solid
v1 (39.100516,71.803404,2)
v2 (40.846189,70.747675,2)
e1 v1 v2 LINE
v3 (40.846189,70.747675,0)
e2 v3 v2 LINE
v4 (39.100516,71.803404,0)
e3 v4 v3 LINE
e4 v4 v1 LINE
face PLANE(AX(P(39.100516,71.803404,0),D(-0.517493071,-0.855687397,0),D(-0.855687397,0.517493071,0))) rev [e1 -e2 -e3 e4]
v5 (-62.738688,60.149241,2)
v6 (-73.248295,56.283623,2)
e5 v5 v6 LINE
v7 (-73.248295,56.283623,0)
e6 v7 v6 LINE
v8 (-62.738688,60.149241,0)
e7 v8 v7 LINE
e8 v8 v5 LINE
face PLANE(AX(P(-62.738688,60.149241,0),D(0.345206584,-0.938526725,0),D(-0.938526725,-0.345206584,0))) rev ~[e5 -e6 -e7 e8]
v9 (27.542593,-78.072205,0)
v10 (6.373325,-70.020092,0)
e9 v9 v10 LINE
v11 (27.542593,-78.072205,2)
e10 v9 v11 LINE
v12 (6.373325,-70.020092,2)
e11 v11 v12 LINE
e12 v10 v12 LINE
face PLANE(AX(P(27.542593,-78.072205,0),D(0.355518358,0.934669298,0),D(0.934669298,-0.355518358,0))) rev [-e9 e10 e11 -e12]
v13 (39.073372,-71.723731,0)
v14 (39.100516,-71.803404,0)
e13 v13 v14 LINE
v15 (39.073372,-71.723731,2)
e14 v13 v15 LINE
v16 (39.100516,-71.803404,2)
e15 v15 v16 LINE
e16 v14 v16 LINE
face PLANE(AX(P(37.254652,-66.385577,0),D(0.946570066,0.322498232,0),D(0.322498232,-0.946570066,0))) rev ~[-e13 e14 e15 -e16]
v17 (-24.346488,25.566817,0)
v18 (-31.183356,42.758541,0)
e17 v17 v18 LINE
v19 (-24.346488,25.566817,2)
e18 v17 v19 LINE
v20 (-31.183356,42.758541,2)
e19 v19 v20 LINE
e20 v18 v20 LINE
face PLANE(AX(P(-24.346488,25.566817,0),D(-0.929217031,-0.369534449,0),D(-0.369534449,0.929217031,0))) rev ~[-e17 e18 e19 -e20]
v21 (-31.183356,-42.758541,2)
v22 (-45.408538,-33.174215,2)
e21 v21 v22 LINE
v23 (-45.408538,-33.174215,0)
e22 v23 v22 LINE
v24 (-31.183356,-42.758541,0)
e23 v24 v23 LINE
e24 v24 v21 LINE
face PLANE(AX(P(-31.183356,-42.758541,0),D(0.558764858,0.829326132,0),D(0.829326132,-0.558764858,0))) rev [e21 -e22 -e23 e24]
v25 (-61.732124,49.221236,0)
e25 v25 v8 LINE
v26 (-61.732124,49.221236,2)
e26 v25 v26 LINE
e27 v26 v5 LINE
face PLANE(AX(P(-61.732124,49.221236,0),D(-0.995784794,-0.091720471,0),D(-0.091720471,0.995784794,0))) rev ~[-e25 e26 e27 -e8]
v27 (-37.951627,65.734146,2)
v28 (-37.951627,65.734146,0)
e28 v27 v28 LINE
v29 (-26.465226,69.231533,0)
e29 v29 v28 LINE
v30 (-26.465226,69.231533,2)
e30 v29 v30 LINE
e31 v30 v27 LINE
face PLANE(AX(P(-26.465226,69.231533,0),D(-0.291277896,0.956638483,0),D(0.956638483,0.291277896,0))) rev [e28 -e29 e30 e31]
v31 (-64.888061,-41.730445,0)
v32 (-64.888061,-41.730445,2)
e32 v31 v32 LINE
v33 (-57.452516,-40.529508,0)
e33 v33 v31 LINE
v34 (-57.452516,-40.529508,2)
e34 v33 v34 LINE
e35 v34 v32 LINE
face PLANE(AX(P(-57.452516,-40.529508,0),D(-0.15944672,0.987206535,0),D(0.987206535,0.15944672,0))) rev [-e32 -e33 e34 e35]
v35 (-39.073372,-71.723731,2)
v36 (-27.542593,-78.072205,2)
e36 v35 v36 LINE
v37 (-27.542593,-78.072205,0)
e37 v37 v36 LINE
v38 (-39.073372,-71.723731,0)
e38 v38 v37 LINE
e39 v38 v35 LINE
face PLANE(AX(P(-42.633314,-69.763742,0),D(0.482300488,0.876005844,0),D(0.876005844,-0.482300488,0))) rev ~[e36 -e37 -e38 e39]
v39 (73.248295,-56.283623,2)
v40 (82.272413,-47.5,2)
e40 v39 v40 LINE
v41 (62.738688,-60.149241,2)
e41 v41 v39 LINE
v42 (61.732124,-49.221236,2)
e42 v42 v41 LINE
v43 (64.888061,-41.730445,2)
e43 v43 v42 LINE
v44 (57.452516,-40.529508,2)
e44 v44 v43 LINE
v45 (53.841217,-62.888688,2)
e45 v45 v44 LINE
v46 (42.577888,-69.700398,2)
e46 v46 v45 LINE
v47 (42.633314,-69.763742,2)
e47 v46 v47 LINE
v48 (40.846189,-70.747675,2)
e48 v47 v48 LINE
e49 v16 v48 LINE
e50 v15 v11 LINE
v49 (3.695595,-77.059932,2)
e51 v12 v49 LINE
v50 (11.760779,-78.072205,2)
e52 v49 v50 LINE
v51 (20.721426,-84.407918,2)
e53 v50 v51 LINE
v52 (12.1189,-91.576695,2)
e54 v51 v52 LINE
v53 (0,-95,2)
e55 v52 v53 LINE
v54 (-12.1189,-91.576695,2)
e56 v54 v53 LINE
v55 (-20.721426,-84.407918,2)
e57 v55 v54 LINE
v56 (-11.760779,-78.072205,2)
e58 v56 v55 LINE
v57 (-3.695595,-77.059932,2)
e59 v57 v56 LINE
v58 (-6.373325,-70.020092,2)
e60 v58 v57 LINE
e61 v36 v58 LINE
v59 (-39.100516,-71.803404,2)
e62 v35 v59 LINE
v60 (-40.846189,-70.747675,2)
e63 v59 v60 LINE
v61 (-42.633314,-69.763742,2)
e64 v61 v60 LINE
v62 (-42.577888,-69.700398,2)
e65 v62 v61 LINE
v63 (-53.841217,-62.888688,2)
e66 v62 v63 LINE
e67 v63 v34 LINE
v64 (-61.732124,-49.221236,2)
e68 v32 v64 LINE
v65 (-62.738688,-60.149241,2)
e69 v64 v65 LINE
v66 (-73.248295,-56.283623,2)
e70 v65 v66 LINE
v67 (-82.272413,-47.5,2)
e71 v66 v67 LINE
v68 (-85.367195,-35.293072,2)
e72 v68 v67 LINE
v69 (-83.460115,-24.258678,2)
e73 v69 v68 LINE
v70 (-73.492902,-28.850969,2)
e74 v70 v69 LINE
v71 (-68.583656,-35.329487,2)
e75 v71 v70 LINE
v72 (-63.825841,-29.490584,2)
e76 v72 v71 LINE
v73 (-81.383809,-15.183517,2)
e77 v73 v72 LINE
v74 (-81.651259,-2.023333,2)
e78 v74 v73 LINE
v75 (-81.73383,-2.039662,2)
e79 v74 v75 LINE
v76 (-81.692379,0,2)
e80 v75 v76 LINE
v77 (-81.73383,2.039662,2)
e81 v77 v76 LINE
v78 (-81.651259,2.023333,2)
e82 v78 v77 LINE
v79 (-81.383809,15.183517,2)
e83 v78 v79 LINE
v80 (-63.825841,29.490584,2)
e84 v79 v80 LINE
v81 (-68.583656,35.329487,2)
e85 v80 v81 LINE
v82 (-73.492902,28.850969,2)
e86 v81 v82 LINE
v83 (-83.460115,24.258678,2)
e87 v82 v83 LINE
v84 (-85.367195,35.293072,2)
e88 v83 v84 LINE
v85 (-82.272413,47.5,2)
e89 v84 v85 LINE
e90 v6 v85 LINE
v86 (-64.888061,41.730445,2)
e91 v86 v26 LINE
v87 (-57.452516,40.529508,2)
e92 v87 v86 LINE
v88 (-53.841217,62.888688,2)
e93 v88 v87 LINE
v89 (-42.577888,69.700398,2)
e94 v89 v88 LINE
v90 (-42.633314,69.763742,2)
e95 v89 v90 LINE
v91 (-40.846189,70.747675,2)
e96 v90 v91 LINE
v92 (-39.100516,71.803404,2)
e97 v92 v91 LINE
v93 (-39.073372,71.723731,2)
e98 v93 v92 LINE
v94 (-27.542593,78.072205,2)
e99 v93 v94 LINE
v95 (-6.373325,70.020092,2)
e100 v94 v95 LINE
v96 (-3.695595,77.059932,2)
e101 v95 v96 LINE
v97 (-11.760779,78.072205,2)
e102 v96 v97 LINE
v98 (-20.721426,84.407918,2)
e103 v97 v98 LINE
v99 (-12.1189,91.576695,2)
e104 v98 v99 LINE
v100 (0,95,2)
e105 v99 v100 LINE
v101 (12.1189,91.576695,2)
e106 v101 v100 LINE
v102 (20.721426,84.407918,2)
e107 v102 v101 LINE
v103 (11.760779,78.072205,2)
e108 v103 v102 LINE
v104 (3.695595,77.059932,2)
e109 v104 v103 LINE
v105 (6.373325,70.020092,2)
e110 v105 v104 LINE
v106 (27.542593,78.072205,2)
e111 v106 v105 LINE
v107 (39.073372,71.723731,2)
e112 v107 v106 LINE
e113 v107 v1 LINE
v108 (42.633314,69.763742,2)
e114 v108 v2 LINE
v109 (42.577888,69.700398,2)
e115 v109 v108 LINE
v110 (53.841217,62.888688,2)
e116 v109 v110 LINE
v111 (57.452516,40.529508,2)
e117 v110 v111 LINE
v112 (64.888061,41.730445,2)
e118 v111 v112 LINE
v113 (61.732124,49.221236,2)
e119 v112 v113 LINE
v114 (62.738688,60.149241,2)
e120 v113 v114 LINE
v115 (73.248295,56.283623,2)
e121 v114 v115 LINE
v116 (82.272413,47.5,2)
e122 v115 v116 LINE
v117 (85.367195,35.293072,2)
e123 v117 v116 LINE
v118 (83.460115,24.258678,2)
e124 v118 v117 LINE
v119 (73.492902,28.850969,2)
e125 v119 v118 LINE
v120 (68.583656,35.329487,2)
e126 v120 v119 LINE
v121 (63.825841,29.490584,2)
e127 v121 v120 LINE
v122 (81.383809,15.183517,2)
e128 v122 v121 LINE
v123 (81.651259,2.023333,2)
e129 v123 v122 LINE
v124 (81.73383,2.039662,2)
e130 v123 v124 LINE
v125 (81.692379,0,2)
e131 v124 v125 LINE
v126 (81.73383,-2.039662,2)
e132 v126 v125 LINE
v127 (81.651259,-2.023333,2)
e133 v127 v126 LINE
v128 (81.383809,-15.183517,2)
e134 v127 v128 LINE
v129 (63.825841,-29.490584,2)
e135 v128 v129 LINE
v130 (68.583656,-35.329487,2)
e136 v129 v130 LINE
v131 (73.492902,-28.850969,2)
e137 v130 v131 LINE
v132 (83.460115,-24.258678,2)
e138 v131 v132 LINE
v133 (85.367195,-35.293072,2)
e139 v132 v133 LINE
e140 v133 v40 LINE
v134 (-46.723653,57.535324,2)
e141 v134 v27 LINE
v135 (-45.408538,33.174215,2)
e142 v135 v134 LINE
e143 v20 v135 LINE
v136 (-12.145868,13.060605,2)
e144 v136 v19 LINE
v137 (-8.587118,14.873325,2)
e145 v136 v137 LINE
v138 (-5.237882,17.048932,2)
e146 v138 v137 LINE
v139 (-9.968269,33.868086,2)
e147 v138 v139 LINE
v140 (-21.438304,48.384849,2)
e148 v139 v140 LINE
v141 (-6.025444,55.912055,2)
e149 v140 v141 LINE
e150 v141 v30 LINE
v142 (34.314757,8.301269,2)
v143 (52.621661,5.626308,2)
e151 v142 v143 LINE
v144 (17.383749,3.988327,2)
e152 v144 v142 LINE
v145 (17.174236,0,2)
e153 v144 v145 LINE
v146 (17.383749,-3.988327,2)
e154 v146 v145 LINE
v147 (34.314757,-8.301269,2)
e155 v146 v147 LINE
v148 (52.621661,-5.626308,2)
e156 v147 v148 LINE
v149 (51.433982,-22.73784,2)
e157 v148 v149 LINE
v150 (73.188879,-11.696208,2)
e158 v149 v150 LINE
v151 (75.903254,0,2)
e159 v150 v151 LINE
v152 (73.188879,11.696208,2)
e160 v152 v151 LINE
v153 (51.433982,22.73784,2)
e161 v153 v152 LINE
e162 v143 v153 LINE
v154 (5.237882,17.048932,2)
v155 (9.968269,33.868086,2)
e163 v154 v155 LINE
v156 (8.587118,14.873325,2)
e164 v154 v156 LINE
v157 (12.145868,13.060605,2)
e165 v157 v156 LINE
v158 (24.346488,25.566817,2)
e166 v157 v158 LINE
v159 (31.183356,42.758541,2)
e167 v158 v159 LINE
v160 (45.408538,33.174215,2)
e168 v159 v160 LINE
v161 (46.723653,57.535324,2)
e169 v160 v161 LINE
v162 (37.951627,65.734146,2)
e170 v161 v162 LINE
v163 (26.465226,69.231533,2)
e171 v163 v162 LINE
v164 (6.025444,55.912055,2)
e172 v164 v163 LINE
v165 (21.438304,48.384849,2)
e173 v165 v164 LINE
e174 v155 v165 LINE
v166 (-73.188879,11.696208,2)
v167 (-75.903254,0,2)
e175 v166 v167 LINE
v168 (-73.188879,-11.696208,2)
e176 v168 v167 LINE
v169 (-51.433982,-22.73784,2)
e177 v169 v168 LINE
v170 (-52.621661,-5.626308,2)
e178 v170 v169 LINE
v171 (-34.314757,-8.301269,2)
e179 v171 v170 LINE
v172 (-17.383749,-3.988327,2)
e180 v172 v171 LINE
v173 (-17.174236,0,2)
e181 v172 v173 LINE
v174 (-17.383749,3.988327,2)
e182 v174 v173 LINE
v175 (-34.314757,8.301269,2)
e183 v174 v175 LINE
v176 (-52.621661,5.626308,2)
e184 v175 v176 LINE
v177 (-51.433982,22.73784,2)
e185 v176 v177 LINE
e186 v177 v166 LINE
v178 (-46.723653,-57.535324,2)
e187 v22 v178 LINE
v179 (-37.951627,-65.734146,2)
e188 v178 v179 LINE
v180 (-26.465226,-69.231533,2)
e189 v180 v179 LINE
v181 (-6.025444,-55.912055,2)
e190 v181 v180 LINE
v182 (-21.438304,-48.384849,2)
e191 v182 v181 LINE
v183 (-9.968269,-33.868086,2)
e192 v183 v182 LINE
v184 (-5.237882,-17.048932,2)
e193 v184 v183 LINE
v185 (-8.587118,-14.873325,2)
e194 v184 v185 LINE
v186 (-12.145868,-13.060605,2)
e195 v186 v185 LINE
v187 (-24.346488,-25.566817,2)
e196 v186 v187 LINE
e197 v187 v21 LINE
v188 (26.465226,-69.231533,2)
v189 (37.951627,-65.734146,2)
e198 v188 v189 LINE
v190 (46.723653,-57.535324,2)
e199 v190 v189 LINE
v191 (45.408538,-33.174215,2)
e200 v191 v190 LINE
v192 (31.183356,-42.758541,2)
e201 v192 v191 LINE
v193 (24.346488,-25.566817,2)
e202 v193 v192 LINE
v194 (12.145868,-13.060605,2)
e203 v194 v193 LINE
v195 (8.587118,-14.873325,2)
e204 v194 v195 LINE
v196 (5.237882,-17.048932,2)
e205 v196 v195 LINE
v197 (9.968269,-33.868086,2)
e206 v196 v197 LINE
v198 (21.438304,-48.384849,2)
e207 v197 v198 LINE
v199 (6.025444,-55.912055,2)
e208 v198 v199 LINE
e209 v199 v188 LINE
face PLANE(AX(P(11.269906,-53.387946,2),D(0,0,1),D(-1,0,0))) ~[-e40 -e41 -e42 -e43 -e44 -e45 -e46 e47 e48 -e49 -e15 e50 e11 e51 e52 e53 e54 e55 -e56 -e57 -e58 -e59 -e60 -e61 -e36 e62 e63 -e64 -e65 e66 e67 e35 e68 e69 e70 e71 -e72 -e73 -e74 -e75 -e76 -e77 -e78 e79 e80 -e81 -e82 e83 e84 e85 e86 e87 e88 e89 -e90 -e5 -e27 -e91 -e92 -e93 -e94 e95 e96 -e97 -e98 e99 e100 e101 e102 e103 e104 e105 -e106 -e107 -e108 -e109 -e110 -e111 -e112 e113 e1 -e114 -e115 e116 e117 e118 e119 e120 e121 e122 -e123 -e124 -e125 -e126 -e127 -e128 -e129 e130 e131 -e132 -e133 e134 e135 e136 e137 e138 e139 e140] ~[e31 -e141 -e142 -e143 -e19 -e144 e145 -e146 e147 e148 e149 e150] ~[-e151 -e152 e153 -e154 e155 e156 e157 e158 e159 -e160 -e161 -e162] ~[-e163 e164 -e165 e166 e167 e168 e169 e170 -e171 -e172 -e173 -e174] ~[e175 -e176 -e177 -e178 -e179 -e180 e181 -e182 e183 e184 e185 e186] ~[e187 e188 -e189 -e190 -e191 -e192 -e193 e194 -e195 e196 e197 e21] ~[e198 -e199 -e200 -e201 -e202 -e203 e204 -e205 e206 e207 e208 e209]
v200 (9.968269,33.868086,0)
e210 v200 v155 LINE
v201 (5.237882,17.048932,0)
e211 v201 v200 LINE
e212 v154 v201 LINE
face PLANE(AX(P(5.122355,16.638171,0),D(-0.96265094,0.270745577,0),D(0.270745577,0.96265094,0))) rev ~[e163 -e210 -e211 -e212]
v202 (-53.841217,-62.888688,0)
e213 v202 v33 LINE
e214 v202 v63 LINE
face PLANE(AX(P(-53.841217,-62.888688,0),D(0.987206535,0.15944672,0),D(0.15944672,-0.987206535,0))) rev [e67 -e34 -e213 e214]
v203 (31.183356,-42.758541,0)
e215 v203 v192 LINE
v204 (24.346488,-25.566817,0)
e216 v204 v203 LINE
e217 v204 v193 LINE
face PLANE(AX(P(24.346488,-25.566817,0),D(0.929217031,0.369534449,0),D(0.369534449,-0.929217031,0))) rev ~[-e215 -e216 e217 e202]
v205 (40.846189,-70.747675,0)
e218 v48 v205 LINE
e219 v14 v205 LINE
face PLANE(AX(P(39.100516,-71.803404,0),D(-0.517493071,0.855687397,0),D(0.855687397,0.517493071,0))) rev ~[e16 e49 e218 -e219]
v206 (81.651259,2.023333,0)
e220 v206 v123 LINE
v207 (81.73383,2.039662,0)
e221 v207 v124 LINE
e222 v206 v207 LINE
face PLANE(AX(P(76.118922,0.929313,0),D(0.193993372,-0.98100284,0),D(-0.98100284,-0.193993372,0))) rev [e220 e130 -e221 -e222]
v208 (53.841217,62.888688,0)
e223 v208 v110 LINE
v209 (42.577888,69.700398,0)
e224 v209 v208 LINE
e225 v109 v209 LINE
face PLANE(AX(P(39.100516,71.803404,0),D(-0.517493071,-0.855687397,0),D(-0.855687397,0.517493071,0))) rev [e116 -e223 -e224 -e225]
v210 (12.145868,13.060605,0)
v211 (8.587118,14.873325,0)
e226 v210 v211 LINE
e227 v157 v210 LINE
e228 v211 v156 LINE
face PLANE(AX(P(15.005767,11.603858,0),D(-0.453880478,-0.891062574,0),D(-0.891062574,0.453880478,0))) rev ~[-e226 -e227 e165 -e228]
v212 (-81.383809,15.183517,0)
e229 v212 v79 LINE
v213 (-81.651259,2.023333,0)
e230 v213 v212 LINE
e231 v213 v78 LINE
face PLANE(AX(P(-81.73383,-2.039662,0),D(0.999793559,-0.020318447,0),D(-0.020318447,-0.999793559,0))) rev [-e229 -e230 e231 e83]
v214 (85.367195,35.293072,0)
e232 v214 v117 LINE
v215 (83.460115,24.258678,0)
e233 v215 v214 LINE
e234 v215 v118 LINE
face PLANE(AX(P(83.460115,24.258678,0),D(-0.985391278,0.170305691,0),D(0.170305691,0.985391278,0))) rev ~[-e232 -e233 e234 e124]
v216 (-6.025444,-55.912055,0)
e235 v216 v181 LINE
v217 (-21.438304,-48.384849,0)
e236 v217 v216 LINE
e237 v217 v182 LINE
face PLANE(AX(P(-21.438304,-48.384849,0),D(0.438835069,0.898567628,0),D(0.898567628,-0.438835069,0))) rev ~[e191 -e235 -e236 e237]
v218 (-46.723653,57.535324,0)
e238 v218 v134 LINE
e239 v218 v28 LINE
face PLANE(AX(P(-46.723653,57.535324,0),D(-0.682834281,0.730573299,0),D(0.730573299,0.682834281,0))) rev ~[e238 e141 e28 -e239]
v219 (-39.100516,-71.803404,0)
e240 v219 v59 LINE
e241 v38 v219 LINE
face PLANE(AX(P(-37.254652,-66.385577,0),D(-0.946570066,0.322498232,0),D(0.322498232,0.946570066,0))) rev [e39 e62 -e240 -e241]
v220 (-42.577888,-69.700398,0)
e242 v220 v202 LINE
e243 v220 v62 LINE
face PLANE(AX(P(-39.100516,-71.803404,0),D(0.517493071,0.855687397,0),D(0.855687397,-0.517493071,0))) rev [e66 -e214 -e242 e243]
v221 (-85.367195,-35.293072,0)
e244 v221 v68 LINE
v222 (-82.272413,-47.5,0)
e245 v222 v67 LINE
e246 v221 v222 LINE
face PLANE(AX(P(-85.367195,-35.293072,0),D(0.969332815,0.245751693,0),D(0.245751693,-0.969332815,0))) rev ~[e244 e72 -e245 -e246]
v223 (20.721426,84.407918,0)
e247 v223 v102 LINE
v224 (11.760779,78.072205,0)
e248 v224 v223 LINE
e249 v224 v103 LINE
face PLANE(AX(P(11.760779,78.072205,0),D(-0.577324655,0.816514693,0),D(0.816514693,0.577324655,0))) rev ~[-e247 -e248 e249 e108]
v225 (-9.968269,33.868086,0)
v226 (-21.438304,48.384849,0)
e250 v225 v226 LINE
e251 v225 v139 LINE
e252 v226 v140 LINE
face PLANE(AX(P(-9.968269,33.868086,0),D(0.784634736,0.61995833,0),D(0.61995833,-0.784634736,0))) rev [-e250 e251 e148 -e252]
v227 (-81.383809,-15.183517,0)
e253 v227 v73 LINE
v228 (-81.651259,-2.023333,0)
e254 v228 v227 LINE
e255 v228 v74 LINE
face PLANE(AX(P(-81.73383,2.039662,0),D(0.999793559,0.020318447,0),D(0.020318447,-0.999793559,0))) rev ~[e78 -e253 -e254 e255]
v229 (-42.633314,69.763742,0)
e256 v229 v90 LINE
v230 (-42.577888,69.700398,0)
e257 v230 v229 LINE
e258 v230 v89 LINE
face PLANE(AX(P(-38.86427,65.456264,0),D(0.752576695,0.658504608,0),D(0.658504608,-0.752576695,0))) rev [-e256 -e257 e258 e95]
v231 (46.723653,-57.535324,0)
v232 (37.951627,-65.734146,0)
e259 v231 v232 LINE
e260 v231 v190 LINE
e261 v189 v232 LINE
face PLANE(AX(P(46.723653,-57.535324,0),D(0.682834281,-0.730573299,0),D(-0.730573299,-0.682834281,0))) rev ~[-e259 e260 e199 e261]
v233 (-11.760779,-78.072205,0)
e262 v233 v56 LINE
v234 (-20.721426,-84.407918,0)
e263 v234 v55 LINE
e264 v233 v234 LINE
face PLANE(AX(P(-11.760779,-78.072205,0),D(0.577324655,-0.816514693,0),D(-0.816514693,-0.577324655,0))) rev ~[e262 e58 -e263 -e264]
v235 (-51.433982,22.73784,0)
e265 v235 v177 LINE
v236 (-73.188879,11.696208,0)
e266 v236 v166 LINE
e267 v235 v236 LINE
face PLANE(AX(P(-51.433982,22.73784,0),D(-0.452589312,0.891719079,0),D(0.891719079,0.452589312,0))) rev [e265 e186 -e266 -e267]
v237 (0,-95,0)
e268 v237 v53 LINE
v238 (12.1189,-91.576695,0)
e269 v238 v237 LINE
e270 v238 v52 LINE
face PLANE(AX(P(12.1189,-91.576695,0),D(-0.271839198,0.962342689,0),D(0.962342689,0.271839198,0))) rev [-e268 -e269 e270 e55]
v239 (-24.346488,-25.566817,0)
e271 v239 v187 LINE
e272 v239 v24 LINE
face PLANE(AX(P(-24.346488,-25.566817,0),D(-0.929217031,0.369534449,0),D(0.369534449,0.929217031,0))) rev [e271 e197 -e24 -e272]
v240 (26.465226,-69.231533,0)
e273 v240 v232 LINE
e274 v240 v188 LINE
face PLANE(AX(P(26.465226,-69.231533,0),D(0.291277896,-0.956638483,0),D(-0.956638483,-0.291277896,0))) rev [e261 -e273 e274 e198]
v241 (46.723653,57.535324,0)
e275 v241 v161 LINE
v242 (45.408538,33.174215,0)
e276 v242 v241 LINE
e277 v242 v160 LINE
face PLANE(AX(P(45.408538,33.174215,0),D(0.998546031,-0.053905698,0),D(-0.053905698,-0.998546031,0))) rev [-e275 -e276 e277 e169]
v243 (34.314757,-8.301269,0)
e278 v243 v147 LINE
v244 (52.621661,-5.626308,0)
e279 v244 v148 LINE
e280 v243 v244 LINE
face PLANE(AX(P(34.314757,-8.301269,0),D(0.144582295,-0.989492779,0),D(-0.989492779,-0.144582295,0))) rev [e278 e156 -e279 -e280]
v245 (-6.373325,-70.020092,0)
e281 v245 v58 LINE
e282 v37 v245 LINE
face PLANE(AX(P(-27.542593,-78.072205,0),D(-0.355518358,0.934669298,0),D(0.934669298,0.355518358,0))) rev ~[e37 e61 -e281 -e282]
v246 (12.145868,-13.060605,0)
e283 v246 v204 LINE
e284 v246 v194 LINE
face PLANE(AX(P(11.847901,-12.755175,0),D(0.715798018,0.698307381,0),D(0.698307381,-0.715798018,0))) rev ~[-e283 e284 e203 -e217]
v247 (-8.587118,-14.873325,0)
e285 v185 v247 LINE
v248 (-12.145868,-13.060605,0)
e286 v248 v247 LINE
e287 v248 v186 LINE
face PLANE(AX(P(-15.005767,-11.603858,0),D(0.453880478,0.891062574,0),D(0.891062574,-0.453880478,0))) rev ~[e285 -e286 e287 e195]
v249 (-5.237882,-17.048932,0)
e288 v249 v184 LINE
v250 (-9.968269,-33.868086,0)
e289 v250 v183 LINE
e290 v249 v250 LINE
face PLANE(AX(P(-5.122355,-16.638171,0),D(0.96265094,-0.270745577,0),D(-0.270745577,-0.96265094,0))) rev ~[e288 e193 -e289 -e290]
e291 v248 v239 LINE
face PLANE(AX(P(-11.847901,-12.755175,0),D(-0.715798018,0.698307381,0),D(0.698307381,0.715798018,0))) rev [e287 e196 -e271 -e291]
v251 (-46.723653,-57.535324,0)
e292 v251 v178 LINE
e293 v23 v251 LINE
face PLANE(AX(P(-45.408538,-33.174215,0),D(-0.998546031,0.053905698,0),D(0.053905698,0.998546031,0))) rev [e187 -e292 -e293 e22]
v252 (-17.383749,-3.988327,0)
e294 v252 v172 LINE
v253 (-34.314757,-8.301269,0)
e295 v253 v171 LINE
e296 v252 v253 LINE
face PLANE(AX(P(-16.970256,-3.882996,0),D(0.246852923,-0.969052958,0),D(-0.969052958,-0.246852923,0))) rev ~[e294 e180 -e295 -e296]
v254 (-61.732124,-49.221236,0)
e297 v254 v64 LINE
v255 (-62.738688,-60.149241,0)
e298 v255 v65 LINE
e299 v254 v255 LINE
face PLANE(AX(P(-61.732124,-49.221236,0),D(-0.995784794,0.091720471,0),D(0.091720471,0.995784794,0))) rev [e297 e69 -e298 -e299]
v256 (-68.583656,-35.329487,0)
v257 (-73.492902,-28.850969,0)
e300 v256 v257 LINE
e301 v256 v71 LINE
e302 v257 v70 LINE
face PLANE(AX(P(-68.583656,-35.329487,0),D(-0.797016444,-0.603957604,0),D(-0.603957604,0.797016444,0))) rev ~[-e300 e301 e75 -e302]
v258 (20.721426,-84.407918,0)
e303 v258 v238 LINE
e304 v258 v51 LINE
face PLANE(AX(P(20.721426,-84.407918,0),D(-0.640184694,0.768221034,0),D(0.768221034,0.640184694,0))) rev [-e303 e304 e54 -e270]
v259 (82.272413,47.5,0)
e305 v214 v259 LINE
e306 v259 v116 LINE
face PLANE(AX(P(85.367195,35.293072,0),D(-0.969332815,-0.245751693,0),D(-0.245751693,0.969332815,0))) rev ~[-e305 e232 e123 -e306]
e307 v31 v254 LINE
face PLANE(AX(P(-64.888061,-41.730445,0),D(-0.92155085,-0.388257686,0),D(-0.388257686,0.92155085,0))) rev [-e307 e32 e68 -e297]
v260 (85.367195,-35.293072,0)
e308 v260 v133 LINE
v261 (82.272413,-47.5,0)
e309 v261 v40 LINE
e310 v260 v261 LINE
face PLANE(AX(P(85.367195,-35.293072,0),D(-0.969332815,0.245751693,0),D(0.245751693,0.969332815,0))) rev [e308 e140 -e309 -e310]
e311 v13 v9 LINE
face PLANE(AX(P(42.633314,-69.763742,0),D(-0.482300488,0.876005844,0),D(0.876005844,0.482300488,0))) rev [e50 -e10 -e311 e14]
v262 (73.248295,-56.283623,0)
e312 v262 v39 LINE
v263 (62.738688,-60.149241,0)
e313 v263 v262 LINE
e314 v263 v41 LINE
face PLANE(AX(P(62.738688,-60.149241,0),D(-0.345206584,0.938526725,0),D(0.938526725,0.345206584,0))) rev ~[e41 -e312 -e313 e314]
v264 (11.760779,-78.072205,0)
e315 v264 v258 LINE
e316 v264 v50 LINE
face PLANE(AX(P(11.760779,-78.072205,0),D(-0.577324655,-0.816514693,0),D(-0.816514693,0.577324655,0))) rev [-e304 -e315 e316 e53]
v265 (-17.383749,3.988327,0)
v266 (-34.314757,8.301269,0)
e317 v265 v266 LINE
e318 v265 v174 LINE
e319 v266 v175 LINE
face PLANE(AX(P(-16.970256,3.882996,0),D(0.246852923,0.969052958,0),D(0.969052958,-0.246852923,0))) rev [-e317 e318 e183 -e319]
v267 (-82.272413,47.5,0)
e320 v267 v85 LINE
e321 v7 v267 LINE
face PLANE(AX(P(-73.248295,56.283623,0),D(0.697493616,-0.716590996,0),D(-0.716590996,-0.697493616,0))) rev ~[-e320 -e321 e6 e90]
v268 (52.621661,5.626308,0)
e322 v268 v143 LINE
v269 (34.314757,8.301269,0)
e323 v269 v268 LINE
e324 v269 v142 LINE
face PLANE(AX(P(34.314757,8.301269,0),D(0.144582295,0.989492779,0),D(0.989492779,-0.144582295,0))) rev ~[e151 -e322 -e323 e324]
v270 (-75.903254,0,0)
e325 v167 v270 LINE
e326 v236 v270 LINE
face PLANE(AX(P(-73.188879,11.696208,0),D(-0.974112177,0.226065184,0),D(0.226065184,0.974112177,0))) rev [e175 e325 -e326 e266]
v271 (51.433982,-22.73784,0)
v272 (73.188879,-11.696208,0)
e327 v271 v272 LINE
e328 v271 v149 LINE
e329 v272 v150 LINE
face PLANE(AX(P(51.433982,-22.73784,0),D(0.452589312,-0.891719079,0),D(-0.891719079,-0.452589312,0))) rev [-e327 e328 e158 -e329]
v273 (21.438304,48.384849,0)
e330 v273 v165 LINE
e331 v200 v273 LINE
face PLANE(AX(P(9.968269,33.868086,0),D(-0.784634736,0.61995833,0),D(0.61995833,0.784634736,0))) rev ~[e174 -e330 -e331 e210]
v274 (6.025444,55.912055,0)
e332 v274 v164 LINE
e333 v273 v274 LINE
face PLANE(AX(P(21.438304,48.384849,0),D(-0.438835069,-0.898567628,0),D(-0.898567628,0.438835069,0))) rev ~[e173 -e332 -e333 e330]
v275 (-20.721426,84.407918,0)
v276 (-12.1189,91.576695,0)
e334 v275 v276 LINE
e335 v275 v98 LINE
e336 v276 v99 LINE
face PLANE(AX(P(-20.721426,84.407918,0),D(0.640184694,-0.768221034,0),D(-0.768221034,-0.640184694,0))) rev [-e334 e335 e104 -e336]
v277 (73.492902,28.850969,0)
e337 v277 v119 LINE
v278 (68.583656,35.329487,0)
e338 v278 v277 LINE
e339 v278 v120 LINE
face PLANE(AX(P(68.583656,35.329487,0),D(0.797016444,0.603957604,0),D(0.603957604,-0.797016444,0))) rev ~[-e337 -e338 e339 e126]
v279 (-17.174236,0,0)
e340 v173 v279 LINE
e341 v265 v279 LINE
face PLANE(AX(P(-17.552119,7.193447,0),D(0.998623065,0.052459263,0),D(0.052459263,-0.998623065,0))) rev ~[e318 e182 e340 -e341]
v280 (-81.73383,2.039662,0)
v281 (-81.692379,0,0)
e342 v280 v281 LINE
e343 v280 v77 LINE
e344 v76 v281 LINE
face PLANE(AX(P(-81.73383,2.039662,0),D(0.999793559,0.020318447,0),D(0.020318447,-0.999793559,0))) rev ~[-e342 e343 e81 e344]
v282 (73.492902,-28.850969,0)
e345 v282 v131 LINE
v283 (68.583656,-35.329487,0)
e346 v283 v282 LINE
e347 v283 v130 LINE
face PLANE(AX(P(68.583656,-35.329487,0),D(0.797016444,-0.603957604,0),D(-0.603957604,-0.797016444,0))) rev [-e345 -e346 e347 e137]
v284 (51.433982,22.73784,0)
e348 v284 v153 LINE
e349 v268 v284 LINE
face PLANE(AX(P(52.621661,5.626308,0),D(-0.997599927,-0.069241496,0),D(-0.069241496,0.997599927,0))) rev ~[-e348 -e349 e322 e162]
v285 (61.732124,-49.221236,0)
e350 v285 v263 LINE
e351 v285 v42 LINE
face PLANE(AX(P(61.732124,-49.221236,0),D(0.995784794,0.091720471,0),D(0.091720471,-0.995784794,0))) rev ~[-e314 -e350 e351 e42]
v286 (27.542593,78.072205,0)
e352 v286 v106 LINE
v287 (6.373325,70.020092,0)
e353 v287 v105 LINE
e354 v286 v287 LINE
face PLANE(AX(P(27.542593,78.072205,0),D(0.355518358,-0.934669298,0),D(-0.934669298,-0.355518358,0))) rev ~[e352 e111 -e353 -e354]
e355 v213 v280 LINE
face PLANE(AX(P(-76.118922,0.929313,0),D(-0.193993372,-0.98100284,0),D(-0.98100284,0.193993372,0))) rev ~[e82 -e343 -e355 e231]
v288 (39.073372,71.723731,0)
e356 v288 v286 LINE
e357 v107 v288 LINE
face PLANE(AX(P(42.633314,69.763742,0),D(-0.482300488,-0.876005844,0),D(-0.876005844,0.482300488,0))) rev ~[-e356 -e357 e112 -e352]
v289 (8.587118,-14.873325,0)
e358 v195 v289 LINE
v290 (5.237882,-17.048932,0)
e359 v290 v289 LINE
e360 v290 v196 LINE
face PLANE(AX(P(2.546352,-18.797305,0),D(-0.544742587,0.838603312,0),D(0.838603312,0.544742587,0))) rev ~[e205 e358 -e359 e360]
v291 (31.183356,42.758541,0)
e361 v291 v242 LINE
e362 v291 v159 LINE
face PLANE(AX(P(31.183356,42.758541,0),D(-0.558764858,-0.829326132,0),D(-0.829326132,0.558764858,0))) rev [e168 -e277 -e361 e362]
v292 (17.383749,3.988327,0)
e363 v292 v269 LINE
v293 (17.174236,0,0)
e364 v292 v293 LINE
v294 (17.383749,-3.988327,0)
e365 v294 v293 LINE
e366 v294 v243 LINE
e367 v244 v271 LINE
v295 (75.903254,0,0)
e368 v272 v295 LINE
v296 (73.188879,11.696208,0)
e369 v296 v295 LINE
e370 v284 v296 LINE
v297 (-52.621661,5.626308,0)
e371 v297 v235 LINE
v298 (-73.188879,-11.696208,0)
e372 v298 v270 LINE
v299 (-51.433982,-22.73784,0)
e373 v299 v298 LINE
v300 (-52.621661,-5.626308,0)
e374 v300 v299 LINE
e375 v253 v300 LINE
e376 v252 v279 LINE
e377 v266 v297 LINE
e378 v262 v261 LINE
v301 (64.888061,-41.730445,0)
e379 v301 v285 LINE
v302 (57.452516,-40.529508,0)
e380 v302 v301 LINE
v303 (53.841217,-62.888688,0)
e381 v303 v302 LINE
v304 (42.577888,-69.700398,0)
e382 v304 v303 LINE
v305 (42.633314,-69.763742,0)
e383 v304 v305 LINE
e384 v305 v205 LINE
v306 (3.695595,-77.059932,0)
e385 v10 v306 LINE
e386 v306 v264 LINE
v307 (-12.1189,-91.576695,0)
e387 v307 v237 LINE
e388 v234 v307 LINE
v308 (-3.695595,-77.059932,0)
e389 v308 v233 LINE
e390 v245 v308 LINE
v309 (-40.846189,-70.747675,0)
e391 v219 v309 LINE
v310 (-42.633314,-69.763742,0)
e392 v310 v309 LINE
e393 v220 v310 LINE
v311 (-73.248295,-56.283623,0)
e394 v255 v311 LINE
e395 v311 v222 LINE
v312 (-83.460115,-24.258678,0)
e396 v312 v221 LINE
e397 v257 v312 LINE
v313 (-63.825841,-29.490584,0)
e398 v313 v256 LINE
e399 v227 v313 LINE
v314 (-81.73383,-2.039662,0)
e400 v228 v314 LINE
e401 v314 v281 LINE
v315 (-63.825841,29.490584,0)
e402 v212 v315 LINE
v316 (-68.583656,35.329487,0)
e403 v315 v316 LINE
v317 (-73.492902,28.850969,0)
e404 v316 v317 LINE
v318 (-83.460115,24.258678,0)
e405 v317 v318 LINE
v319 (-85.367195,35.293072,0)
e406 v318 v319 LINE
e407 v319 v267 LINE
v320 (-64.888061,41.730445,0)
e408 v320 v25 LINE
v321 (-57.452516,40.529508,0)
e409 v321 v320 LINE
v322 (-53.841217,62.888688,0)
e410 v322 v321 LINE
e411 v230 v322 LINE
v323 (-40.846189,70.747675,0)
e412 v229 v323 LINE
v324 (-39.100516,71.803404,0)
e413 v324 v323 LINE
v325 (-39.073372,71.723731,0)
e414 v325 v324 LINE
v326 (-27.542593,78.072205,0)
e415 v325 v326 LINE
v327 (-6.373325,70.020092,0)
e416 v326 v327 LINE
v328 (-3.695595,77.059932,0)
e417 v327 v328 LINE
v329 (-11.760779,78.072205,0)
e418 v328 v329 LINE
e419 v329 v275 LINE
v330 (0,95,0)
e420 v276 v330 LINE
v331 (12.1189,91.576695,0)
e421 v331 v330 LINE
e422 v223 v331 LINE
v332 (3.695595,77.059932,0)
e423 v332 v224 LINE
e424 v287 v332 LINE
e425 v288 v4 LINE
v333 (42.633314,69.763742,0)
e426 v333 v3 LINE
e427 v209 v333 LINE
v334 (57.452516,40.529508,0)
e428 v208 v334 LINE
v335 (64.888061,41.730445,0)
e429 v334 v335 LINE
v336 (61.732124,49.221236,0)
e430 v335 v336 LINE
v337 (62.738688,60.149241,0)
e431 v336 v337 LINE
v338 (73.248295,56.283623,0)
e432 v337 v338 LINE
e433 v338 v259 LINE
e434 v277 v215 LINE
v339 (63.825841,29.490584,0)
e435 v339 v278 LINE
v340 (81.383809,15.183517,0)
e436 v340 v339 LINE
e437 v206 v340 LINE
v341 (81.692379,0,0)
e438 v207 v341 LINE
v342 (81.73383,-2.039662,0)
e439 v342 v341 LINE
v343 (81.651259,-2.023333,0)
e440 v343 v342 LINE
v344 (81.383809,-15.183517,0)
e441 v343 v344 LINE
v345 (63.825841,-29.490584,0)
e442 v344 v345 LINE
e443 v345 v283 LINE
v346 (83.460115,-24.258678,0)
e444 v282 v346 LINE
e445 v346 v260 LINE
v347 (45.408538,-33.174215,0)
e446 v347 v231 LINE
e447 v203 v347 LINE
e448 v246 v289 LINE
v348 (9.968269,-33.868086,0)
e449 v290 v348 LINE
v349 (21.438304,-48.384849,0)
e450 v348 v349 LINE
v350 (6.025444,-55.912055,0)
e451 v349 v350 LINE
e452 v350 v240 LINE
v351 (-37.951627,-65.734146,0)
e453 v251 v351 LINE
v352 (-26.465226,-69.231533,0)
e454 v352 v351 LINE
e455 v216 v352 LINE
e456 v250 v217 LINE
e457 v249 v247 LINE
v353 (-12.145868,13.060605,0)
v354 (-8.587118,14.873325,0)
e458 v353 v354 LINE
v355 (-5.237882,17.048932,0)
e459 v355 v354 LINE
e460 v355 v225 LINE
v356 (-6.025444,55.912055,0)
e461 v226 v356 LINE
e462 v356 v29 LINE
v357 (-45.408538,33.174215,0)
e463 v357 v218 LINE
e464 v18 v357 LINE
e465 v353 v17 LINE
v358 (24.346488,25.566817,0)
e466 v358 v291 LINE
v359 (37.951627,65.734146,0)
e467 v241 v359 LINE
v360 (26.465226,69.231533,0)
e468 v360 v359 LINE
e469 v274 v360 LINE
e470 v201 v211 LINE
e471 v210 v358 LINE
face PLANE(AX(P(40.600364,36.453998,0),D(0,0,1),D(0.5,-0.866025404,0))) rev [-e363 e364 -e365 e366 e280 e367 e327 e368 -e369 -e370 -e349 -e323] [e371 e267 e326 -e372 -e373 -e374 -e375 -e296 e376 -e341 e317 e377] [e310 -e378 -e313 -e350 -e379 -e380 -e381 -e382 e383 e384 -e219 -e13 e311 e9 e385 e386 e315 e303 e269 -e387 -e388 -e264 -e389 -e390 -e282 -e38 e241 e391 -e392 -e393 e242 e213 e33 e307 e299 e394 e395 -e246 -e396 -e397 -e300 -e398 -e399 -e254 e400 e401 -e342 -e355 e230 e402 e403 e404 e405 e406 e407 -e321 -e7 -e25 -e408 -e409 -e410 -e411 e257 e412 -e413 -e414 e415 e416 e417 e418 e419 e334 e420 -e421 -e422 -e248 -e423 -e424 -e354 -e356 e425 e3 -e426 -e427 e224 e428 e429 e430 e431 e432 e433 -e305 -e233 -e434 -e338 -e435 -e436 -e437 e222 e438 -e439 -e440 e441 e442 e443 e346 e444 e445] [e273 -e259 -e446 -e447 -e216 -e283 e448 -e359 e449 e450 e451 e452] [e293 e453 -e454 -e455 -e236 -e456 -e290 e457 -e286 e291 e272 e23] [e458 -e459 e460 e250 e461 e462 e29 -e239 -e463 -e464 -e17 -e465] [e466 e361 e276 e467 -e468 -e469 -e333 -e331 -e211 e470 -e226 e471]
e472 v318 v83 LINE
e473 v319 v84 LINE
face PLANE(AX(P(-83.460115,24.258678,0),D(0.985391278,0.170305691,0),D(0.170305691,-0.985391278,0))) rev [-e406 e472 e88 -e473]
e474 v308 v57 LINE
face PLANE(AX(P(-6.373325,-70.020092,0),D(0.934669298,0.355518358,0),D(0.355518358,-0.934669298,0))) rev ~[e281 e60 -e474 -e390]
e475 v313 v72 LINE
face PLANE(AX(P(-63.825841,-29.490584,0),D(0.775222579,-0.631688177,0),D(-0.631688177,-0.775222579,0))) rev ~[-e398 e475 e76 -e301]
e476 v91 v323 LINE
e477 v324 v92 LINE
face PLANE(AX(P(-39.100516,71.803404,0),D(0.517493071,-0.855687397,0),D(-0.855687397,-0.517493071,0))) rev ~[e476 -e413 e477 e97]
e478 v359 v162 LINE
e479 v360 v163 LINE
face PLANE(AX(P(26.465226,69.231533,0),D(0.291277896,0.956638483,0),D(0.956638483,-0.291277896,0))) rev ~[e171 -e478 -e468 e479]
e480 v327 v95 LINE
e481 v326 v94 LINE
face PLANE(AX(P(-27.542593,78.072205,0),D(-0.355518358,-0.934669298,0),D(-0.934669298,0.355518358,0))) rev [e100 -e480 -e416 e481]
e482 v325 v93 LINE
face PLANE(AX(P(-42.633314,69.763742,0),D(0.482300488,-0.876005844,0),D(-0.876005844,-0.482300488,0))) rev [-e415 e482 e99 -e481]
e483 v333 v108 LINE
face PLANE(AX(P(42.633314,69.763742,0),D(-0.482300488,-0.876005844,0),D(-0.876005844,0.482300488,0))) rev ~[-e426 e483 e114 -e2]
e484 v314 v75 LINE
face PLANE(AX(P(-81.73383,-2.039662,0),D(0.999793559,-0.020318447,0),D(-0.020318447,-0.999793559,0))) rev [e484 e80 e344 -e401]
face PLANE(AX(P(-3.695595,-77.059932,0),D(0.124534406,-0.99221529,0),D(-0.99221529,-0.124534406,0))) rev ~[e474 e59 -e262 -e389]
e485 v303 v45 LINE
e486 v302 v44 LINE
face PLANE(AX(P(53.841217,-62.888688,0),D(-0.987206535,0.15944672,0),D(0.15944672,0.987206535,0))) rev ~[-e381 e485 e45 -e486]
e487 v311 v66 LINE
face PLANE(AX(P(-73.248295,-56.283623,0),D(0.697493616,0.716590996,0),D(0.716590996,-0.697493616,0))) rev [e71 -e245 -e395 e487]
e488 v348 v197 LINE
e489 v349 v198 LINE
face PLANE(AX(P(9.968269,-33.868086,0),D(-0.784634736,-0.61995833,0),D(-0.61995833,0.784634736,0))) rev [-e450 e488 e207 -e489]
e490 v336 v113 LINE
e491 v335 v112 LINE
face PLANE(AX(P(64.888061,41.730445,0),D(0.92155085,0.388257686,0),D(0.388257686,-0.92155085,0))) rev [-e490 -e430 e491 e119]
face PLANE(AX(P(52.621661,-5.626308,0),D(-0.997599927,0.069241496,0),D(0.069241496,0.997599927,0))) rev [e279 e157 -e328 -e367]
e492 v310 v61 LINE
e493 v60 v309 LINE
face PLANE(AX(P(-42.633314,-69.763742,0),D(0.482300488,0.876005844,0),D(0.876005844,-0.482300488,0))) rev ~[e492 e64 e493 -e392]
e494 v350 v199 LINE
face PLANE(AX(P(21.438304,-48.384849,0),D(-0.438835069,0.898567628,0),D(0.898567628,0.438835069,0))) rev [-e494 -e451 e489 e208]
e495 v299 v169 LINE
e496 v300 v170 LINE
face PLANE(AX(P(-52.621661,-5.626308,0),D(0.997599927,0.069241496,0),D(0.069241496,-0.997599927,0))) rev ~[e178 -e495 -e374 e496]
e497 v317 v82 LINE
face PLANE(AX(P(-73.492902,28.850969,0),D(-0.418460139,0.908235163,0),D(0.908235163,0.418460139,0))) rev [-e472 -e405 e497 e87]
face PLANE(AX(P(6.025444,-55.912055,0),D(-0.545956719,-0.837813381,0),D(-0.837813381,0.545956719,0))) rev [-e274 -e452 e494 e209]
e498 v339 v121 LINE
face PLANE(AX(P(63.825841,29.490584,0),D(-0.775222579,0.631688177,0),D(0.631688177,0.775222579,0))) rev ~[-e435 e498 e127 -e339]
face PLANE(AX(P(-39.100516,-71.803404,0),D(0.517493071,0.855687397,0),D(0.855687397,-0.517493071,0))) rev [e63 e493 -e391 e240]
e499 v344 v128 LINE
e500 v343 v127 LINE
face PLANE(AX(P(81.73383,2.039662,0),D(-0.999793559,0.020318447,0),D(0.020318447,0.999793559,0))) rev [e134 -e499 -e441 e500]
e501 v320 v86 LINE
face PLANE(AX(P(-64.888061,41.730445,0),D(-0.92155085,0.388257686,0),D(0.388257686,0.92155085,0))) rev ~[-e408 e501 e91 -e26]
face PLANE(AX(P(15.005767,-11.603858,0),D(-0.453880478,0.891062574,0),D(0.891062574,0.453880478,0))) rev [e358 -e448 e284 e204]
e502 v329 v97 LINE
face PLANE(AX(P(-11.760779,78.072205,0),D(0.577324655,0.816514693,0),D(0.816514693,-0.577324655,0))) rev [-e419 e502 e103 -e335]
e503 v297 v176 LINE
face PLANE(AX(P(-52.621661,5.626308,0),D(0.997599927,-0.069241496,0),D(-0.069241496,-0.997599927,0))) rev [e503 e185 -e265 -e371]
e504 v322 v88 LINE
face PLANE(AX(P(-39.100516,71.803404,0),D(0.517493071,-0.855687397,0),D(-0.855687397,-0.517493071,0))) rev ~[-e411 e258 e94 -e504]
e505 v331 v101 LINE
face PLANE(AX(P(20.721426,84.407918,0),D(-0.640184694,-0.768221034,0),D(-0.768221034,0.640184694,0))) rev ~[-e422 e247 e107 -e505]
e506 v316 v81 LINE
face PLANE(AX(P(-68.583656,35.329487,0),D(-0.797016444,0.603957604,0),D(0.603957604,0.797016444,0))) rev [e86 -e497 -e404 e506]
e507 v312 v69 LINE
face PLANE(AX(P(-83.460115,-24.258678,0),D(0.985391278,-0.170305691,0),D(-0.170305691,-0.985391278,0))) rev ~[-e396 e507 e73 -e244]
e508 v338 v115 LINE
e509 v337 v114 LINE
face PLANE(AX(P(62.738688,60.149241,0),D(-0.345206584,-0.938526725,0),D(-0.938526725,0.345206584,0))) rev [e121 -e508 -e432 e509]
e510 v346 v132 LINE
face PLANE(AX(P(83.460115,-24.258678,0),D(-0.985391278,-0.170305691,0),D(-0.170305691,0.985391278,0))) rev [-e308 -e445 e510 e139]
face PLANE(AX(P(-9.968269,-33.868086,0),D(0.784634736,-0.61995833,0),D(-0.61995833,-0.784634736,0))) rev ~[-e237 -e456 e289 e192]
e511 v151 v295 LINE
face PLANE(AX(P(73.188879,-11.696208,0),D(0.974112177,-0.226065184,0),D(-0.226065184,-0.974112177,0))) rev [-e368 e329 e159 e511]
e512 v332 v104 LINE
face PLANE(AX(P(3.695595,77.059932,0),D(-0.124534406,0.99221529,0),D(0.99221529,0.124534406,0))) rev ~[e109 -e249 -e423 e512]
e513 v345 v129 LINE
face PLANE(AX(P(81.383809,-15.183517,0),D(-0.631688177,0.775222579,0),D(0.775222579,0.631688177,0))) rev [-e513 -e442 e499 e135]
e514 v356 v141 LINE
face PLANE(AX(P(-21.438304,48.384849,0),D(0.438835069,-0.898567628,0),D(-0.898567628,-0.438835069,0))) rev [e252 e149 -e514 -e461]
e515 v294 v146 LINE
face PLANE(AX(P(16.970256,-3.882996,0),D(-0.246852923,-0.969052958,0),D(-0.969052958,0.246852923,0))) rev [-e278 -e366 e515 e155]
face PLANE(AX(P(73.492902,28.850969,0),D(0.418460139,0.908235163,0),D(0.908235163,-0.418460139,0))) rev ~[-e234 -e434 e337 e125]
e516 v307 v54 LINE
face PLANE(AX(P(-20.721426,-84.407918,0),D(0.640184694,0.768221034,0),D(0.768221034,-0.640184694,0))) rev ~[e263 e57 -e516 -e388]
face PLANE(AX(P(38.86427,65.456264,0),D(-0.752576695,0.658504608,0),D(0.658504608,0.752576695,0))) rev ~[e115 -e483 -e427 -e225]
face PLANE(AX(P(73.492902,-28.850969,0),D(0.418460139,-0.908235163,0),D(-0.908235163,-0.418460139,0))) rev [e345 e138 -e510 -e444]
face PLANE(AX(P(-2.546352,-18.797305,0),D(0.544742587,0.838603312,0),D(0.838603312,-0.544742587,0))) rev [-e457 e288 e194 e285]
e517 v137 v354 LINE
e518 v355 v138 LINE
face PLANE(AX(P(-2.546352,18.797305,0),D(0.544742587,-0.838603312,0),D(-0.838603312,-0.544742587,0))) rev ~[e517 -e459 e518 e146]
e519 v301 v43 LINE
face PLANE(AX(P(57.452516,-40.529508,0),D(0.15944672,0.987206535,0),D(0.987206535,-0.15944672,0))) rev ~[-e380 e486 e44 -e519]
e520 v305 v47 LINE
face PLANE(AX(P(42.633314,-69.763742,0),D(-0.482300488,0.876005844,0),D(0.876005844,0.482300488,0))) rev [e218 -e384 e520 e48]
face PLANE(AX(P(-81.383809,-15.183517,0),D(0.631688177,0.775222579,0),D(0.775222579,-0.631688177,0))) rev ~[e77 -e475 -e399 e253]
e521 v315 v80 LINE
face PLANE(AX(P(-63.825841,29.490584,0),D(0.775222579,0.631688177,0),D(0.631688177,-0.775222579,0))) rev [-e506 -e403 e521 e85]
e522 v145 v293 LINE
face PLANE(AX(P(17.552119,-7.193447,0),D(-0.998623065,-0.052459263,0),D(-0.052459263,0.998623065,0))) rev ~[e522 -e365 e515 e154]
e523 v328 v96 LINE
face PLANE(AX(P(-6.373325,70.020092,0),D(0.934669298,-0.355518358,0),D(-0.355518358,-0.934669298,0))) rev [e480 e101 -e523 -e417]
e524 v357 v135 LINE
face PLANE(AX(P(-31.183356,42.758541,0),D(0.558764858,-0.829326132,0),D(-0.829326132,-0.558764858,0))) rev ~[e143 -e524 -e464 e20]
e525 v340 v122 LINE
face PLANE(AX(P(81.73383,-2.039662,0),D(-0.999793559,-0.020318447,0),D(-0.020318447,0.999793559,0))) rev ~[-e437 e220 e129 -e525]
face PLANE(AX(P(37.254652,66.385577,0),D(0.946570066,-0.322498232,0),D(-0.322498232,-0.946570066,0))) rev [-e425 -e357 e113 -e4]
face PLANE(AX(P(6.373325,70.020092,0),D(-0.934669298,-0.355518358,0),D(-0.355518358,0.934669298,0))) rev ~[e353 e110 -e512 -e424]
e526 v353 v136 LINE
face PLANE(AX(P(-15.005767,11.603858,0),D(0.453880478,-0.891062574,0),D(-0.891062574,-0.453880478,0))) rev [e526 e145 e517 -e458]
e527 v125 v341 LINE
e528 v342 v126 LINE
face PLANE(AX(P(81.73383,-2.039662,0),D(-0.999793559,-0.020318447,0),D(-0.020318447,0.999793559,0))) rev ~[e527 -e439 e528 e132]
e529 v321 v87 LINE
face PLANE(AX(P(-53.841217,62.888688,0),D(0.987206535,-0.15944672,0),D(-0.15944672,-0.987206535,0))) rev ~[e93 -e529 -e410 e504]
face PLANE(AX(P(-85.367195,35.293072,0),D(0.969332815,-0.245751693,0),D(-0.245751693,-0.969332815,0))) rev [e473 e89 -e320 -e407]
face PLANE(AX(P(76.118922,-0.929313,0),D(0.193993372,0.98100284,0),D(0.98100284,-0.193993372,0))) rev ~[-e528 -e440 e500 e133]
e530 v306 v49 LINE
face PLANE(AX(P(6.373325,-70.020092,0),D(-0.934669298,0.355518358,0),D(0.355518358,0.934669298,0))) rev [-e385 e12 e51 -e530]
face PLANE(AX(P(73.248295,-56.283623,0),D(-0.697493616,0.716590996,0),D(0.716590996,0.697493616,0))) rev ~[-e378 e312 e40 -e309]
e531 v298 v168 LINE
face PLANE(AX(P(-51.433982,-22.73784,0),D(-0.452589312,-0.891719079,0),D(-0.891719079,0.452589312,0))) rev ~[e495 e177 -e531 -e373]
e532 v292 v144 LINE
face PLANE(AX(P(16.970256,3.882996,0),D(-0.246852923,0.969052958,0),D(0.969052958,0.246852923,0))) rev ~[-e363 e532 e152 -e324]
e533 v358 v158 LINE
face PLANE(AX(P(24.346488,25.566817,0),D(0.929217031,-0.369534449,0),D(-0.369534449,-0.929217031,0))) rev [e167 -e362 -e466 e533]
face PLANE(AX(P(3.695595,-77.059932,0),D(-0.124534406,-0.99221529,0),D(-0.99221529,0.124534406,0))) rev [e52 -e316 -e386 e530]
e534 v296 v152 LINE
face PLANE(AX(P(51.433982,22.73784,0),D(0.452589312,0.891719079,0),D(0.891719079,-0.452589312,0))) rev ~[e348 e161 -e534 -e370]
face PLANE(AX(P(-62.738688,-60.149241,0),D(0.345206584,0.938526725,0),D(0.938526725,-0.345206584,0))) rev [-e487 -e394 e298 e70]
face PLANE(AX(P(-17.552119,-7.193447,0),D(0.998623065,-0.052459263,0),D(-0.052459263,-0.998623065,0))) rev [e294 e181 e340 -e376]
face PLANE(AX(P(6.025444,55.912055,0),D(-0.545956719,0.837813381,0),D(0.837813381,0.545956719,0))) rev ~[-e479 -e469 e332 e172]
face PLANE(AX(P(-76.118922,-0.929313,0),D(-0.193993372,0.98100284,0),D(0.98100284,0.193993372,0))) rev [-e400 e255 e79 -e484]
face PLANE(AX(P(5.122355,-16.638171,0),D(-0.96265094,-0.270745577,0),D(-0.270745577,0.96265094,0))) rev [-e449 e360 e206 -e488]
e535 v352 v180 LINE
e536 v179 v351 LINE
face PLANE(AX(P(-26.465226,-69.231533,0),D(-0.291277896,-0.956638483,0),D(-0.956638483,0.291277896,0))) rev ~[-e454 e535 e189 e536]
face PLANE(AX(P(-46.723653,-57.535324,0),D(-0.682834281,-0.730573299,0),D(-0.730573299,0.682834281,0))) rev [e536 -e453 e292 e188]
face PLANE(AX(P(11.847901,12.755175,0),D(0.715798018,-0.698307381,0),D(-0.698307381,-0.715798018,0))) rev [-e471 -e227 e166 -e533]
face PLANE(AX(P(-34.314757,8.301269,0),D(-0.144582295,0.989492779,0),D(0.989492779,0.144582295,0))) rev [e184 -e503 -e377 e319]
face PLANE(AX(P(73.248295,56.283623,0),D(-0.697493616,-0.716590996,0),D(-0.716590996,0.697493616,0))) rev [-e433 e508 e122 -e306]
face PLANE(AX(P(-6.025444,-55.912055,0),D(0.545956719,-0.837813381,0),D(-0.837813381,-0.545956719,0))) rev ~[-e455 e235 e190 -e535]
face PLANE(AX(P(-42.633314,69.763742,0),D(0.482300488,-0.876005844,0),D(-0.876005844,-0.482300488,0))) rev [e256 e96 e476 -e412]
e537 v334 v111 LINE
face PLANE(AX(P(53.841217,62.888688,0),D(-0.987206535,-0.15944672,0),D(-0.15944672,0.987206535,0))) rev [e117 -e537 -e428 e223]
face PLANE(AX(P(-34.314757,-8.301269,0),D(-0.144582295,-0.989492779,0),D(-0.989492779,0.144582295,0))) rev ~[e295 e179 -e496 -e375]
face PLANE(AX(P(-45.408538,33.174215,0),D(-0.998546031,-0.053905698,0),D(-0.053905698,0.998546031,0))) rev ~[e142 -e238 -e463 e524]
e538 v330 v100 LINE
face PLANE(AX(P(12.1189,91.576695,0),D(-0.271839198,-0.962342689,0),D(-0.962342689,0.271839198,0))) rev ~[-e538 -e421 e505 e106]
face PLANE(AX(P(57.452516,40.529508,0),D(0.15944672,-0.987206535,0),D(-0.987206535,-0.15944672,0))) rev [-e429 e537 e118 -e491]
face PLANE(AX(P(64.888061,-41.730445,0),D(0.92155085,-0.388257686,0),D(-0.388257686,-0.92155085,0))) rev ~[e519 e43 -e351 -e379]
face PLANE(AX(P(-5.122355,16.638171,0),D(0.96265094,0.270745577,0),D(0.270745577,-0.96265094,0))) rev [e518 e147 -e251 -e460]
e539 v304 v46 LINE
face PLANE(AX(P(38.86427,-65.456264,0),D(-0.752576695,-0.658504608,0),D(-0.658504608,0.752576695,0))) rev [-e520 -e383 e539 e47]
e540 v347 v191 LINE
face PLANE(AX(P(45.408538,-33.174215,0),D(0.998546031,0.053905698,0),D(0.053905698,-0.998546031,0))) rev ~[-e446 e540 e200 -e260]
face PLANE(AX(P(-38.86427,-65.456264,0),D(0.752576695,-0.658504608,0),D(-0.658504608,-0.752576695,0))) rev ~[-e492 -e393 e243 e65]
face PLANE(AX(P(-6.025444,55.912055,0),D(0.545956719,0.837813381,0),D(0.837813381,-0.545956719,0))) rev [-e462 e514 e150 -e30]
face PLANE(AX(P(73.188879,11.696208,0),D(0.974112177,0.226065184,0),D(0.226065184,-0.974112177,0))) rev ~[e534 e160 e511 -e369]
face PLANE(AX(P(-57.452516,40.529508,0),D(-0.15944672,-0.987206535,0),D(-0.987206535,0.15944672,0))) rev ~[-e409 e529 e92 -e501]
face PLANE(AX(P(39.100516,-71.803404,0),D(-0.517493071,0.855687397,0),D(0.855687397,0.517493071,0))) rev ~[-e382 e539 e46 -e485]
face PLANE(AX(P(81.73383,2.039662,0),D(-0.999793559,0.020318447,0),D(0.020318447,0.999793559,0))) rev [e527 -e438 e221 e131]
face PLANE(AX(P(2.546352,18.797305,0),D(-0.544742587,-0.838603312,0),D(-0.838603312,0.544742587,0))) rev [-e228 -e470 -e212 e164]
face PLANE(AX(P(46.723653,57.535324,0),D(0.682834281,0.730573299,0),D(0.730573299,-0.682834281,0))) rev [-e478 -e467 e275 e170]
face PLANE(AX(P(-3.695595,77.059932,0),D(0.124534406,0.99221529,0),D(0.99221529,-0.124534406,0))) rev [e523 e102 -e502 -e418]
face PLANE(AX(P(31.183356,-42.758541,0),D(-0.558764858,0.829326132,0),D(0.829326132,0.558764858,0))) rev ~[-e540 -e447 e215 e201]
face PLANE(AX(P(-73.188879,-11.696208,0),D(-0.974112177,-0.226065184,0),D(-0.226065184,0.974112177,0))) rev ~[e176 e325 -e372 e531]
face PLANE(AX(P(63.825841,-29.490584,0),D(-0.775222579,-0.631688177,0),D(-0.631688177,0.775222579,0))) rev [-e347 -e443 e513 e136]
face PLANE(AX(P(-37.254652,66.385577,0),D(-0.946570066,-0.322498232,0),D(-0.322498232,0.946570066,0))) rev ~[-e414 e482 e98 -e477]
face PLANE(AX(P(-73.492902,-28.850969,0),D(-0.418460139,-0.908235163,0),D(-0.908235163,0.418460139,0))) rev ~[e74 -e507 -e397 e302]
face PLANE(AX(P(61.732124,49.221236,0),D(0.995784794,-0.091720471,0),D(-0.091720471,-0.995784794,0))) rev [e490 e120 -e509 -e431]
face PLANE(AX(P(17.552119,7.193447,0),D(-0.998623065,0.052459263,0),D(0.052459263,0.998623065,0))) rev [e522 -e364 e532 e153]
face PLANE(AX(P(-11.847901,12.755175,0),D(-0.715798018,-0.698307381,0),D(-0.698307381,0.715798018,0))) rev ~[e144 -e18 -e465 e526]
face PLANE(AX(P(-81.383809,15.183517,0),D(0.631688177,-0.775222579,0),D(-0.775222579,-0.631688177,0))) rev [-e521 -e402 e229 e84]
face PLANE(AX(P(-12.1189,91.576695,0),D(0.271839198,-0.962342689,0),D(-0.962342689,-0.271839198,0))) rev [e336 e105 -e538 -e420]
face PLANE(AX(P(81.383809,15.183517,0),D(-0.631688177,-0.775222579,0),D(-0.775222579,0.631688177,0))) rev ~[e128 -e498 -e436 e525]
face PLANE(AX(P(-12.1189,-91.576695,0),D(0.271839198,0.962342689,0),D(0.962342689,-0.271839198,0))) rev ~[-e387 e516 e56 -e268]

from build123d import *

# Parameters (mm, degrees)
F1_DEPTH = 2
F4_COUNT = 6
F4_ANGLE = 300


with BuildPart() as f1:
    # F0 (on Top) → F1 (new body)
    with BuildSketch(Plane.XY):
        Polygon((0, 95), (0, 0), (9.0951109305, 0), (15.0057672536, 11.6038580467), (5.1223551854, 16.6381709278), (9.968268685, 33.868085593), (21.4383043349, 48.3848489821), (6.0254437849, 55.9120550752), (26.4652259648, 69.2315325141), (38.8642698526, 65.456263721), (42.6333136857, 69.7637423873), (27.5425929576, 78.0722051859), (6.3733253418, 70.0200916975), (3.6955948453, 77.0599320531), (11.7607787251, 78.0722051859), (20.7214262336, 84.4079181552), (12.1189001948, 91.5766954422), align=None)
    extrude(amount=F1_DEPTH)

    # F2: F1 across plane


with BuildPart() as f1_1:
    add(f1.part)
    add(f1.part.mirror(Plane.YZ))

    # F4: F1 ×6 about axis
    f4_axis = Axis((0, 0, 4.1130185127), (0, 0, 1))


with BuildPart() as f1_2:
    add(f1_1.part)
    for i in range(1, F4_COUNT):
        add(f1_1.part.rotate(f4_axis, i * F4_ANGLE / (F4_COUNT - 1)))


solid = f1_2.part
